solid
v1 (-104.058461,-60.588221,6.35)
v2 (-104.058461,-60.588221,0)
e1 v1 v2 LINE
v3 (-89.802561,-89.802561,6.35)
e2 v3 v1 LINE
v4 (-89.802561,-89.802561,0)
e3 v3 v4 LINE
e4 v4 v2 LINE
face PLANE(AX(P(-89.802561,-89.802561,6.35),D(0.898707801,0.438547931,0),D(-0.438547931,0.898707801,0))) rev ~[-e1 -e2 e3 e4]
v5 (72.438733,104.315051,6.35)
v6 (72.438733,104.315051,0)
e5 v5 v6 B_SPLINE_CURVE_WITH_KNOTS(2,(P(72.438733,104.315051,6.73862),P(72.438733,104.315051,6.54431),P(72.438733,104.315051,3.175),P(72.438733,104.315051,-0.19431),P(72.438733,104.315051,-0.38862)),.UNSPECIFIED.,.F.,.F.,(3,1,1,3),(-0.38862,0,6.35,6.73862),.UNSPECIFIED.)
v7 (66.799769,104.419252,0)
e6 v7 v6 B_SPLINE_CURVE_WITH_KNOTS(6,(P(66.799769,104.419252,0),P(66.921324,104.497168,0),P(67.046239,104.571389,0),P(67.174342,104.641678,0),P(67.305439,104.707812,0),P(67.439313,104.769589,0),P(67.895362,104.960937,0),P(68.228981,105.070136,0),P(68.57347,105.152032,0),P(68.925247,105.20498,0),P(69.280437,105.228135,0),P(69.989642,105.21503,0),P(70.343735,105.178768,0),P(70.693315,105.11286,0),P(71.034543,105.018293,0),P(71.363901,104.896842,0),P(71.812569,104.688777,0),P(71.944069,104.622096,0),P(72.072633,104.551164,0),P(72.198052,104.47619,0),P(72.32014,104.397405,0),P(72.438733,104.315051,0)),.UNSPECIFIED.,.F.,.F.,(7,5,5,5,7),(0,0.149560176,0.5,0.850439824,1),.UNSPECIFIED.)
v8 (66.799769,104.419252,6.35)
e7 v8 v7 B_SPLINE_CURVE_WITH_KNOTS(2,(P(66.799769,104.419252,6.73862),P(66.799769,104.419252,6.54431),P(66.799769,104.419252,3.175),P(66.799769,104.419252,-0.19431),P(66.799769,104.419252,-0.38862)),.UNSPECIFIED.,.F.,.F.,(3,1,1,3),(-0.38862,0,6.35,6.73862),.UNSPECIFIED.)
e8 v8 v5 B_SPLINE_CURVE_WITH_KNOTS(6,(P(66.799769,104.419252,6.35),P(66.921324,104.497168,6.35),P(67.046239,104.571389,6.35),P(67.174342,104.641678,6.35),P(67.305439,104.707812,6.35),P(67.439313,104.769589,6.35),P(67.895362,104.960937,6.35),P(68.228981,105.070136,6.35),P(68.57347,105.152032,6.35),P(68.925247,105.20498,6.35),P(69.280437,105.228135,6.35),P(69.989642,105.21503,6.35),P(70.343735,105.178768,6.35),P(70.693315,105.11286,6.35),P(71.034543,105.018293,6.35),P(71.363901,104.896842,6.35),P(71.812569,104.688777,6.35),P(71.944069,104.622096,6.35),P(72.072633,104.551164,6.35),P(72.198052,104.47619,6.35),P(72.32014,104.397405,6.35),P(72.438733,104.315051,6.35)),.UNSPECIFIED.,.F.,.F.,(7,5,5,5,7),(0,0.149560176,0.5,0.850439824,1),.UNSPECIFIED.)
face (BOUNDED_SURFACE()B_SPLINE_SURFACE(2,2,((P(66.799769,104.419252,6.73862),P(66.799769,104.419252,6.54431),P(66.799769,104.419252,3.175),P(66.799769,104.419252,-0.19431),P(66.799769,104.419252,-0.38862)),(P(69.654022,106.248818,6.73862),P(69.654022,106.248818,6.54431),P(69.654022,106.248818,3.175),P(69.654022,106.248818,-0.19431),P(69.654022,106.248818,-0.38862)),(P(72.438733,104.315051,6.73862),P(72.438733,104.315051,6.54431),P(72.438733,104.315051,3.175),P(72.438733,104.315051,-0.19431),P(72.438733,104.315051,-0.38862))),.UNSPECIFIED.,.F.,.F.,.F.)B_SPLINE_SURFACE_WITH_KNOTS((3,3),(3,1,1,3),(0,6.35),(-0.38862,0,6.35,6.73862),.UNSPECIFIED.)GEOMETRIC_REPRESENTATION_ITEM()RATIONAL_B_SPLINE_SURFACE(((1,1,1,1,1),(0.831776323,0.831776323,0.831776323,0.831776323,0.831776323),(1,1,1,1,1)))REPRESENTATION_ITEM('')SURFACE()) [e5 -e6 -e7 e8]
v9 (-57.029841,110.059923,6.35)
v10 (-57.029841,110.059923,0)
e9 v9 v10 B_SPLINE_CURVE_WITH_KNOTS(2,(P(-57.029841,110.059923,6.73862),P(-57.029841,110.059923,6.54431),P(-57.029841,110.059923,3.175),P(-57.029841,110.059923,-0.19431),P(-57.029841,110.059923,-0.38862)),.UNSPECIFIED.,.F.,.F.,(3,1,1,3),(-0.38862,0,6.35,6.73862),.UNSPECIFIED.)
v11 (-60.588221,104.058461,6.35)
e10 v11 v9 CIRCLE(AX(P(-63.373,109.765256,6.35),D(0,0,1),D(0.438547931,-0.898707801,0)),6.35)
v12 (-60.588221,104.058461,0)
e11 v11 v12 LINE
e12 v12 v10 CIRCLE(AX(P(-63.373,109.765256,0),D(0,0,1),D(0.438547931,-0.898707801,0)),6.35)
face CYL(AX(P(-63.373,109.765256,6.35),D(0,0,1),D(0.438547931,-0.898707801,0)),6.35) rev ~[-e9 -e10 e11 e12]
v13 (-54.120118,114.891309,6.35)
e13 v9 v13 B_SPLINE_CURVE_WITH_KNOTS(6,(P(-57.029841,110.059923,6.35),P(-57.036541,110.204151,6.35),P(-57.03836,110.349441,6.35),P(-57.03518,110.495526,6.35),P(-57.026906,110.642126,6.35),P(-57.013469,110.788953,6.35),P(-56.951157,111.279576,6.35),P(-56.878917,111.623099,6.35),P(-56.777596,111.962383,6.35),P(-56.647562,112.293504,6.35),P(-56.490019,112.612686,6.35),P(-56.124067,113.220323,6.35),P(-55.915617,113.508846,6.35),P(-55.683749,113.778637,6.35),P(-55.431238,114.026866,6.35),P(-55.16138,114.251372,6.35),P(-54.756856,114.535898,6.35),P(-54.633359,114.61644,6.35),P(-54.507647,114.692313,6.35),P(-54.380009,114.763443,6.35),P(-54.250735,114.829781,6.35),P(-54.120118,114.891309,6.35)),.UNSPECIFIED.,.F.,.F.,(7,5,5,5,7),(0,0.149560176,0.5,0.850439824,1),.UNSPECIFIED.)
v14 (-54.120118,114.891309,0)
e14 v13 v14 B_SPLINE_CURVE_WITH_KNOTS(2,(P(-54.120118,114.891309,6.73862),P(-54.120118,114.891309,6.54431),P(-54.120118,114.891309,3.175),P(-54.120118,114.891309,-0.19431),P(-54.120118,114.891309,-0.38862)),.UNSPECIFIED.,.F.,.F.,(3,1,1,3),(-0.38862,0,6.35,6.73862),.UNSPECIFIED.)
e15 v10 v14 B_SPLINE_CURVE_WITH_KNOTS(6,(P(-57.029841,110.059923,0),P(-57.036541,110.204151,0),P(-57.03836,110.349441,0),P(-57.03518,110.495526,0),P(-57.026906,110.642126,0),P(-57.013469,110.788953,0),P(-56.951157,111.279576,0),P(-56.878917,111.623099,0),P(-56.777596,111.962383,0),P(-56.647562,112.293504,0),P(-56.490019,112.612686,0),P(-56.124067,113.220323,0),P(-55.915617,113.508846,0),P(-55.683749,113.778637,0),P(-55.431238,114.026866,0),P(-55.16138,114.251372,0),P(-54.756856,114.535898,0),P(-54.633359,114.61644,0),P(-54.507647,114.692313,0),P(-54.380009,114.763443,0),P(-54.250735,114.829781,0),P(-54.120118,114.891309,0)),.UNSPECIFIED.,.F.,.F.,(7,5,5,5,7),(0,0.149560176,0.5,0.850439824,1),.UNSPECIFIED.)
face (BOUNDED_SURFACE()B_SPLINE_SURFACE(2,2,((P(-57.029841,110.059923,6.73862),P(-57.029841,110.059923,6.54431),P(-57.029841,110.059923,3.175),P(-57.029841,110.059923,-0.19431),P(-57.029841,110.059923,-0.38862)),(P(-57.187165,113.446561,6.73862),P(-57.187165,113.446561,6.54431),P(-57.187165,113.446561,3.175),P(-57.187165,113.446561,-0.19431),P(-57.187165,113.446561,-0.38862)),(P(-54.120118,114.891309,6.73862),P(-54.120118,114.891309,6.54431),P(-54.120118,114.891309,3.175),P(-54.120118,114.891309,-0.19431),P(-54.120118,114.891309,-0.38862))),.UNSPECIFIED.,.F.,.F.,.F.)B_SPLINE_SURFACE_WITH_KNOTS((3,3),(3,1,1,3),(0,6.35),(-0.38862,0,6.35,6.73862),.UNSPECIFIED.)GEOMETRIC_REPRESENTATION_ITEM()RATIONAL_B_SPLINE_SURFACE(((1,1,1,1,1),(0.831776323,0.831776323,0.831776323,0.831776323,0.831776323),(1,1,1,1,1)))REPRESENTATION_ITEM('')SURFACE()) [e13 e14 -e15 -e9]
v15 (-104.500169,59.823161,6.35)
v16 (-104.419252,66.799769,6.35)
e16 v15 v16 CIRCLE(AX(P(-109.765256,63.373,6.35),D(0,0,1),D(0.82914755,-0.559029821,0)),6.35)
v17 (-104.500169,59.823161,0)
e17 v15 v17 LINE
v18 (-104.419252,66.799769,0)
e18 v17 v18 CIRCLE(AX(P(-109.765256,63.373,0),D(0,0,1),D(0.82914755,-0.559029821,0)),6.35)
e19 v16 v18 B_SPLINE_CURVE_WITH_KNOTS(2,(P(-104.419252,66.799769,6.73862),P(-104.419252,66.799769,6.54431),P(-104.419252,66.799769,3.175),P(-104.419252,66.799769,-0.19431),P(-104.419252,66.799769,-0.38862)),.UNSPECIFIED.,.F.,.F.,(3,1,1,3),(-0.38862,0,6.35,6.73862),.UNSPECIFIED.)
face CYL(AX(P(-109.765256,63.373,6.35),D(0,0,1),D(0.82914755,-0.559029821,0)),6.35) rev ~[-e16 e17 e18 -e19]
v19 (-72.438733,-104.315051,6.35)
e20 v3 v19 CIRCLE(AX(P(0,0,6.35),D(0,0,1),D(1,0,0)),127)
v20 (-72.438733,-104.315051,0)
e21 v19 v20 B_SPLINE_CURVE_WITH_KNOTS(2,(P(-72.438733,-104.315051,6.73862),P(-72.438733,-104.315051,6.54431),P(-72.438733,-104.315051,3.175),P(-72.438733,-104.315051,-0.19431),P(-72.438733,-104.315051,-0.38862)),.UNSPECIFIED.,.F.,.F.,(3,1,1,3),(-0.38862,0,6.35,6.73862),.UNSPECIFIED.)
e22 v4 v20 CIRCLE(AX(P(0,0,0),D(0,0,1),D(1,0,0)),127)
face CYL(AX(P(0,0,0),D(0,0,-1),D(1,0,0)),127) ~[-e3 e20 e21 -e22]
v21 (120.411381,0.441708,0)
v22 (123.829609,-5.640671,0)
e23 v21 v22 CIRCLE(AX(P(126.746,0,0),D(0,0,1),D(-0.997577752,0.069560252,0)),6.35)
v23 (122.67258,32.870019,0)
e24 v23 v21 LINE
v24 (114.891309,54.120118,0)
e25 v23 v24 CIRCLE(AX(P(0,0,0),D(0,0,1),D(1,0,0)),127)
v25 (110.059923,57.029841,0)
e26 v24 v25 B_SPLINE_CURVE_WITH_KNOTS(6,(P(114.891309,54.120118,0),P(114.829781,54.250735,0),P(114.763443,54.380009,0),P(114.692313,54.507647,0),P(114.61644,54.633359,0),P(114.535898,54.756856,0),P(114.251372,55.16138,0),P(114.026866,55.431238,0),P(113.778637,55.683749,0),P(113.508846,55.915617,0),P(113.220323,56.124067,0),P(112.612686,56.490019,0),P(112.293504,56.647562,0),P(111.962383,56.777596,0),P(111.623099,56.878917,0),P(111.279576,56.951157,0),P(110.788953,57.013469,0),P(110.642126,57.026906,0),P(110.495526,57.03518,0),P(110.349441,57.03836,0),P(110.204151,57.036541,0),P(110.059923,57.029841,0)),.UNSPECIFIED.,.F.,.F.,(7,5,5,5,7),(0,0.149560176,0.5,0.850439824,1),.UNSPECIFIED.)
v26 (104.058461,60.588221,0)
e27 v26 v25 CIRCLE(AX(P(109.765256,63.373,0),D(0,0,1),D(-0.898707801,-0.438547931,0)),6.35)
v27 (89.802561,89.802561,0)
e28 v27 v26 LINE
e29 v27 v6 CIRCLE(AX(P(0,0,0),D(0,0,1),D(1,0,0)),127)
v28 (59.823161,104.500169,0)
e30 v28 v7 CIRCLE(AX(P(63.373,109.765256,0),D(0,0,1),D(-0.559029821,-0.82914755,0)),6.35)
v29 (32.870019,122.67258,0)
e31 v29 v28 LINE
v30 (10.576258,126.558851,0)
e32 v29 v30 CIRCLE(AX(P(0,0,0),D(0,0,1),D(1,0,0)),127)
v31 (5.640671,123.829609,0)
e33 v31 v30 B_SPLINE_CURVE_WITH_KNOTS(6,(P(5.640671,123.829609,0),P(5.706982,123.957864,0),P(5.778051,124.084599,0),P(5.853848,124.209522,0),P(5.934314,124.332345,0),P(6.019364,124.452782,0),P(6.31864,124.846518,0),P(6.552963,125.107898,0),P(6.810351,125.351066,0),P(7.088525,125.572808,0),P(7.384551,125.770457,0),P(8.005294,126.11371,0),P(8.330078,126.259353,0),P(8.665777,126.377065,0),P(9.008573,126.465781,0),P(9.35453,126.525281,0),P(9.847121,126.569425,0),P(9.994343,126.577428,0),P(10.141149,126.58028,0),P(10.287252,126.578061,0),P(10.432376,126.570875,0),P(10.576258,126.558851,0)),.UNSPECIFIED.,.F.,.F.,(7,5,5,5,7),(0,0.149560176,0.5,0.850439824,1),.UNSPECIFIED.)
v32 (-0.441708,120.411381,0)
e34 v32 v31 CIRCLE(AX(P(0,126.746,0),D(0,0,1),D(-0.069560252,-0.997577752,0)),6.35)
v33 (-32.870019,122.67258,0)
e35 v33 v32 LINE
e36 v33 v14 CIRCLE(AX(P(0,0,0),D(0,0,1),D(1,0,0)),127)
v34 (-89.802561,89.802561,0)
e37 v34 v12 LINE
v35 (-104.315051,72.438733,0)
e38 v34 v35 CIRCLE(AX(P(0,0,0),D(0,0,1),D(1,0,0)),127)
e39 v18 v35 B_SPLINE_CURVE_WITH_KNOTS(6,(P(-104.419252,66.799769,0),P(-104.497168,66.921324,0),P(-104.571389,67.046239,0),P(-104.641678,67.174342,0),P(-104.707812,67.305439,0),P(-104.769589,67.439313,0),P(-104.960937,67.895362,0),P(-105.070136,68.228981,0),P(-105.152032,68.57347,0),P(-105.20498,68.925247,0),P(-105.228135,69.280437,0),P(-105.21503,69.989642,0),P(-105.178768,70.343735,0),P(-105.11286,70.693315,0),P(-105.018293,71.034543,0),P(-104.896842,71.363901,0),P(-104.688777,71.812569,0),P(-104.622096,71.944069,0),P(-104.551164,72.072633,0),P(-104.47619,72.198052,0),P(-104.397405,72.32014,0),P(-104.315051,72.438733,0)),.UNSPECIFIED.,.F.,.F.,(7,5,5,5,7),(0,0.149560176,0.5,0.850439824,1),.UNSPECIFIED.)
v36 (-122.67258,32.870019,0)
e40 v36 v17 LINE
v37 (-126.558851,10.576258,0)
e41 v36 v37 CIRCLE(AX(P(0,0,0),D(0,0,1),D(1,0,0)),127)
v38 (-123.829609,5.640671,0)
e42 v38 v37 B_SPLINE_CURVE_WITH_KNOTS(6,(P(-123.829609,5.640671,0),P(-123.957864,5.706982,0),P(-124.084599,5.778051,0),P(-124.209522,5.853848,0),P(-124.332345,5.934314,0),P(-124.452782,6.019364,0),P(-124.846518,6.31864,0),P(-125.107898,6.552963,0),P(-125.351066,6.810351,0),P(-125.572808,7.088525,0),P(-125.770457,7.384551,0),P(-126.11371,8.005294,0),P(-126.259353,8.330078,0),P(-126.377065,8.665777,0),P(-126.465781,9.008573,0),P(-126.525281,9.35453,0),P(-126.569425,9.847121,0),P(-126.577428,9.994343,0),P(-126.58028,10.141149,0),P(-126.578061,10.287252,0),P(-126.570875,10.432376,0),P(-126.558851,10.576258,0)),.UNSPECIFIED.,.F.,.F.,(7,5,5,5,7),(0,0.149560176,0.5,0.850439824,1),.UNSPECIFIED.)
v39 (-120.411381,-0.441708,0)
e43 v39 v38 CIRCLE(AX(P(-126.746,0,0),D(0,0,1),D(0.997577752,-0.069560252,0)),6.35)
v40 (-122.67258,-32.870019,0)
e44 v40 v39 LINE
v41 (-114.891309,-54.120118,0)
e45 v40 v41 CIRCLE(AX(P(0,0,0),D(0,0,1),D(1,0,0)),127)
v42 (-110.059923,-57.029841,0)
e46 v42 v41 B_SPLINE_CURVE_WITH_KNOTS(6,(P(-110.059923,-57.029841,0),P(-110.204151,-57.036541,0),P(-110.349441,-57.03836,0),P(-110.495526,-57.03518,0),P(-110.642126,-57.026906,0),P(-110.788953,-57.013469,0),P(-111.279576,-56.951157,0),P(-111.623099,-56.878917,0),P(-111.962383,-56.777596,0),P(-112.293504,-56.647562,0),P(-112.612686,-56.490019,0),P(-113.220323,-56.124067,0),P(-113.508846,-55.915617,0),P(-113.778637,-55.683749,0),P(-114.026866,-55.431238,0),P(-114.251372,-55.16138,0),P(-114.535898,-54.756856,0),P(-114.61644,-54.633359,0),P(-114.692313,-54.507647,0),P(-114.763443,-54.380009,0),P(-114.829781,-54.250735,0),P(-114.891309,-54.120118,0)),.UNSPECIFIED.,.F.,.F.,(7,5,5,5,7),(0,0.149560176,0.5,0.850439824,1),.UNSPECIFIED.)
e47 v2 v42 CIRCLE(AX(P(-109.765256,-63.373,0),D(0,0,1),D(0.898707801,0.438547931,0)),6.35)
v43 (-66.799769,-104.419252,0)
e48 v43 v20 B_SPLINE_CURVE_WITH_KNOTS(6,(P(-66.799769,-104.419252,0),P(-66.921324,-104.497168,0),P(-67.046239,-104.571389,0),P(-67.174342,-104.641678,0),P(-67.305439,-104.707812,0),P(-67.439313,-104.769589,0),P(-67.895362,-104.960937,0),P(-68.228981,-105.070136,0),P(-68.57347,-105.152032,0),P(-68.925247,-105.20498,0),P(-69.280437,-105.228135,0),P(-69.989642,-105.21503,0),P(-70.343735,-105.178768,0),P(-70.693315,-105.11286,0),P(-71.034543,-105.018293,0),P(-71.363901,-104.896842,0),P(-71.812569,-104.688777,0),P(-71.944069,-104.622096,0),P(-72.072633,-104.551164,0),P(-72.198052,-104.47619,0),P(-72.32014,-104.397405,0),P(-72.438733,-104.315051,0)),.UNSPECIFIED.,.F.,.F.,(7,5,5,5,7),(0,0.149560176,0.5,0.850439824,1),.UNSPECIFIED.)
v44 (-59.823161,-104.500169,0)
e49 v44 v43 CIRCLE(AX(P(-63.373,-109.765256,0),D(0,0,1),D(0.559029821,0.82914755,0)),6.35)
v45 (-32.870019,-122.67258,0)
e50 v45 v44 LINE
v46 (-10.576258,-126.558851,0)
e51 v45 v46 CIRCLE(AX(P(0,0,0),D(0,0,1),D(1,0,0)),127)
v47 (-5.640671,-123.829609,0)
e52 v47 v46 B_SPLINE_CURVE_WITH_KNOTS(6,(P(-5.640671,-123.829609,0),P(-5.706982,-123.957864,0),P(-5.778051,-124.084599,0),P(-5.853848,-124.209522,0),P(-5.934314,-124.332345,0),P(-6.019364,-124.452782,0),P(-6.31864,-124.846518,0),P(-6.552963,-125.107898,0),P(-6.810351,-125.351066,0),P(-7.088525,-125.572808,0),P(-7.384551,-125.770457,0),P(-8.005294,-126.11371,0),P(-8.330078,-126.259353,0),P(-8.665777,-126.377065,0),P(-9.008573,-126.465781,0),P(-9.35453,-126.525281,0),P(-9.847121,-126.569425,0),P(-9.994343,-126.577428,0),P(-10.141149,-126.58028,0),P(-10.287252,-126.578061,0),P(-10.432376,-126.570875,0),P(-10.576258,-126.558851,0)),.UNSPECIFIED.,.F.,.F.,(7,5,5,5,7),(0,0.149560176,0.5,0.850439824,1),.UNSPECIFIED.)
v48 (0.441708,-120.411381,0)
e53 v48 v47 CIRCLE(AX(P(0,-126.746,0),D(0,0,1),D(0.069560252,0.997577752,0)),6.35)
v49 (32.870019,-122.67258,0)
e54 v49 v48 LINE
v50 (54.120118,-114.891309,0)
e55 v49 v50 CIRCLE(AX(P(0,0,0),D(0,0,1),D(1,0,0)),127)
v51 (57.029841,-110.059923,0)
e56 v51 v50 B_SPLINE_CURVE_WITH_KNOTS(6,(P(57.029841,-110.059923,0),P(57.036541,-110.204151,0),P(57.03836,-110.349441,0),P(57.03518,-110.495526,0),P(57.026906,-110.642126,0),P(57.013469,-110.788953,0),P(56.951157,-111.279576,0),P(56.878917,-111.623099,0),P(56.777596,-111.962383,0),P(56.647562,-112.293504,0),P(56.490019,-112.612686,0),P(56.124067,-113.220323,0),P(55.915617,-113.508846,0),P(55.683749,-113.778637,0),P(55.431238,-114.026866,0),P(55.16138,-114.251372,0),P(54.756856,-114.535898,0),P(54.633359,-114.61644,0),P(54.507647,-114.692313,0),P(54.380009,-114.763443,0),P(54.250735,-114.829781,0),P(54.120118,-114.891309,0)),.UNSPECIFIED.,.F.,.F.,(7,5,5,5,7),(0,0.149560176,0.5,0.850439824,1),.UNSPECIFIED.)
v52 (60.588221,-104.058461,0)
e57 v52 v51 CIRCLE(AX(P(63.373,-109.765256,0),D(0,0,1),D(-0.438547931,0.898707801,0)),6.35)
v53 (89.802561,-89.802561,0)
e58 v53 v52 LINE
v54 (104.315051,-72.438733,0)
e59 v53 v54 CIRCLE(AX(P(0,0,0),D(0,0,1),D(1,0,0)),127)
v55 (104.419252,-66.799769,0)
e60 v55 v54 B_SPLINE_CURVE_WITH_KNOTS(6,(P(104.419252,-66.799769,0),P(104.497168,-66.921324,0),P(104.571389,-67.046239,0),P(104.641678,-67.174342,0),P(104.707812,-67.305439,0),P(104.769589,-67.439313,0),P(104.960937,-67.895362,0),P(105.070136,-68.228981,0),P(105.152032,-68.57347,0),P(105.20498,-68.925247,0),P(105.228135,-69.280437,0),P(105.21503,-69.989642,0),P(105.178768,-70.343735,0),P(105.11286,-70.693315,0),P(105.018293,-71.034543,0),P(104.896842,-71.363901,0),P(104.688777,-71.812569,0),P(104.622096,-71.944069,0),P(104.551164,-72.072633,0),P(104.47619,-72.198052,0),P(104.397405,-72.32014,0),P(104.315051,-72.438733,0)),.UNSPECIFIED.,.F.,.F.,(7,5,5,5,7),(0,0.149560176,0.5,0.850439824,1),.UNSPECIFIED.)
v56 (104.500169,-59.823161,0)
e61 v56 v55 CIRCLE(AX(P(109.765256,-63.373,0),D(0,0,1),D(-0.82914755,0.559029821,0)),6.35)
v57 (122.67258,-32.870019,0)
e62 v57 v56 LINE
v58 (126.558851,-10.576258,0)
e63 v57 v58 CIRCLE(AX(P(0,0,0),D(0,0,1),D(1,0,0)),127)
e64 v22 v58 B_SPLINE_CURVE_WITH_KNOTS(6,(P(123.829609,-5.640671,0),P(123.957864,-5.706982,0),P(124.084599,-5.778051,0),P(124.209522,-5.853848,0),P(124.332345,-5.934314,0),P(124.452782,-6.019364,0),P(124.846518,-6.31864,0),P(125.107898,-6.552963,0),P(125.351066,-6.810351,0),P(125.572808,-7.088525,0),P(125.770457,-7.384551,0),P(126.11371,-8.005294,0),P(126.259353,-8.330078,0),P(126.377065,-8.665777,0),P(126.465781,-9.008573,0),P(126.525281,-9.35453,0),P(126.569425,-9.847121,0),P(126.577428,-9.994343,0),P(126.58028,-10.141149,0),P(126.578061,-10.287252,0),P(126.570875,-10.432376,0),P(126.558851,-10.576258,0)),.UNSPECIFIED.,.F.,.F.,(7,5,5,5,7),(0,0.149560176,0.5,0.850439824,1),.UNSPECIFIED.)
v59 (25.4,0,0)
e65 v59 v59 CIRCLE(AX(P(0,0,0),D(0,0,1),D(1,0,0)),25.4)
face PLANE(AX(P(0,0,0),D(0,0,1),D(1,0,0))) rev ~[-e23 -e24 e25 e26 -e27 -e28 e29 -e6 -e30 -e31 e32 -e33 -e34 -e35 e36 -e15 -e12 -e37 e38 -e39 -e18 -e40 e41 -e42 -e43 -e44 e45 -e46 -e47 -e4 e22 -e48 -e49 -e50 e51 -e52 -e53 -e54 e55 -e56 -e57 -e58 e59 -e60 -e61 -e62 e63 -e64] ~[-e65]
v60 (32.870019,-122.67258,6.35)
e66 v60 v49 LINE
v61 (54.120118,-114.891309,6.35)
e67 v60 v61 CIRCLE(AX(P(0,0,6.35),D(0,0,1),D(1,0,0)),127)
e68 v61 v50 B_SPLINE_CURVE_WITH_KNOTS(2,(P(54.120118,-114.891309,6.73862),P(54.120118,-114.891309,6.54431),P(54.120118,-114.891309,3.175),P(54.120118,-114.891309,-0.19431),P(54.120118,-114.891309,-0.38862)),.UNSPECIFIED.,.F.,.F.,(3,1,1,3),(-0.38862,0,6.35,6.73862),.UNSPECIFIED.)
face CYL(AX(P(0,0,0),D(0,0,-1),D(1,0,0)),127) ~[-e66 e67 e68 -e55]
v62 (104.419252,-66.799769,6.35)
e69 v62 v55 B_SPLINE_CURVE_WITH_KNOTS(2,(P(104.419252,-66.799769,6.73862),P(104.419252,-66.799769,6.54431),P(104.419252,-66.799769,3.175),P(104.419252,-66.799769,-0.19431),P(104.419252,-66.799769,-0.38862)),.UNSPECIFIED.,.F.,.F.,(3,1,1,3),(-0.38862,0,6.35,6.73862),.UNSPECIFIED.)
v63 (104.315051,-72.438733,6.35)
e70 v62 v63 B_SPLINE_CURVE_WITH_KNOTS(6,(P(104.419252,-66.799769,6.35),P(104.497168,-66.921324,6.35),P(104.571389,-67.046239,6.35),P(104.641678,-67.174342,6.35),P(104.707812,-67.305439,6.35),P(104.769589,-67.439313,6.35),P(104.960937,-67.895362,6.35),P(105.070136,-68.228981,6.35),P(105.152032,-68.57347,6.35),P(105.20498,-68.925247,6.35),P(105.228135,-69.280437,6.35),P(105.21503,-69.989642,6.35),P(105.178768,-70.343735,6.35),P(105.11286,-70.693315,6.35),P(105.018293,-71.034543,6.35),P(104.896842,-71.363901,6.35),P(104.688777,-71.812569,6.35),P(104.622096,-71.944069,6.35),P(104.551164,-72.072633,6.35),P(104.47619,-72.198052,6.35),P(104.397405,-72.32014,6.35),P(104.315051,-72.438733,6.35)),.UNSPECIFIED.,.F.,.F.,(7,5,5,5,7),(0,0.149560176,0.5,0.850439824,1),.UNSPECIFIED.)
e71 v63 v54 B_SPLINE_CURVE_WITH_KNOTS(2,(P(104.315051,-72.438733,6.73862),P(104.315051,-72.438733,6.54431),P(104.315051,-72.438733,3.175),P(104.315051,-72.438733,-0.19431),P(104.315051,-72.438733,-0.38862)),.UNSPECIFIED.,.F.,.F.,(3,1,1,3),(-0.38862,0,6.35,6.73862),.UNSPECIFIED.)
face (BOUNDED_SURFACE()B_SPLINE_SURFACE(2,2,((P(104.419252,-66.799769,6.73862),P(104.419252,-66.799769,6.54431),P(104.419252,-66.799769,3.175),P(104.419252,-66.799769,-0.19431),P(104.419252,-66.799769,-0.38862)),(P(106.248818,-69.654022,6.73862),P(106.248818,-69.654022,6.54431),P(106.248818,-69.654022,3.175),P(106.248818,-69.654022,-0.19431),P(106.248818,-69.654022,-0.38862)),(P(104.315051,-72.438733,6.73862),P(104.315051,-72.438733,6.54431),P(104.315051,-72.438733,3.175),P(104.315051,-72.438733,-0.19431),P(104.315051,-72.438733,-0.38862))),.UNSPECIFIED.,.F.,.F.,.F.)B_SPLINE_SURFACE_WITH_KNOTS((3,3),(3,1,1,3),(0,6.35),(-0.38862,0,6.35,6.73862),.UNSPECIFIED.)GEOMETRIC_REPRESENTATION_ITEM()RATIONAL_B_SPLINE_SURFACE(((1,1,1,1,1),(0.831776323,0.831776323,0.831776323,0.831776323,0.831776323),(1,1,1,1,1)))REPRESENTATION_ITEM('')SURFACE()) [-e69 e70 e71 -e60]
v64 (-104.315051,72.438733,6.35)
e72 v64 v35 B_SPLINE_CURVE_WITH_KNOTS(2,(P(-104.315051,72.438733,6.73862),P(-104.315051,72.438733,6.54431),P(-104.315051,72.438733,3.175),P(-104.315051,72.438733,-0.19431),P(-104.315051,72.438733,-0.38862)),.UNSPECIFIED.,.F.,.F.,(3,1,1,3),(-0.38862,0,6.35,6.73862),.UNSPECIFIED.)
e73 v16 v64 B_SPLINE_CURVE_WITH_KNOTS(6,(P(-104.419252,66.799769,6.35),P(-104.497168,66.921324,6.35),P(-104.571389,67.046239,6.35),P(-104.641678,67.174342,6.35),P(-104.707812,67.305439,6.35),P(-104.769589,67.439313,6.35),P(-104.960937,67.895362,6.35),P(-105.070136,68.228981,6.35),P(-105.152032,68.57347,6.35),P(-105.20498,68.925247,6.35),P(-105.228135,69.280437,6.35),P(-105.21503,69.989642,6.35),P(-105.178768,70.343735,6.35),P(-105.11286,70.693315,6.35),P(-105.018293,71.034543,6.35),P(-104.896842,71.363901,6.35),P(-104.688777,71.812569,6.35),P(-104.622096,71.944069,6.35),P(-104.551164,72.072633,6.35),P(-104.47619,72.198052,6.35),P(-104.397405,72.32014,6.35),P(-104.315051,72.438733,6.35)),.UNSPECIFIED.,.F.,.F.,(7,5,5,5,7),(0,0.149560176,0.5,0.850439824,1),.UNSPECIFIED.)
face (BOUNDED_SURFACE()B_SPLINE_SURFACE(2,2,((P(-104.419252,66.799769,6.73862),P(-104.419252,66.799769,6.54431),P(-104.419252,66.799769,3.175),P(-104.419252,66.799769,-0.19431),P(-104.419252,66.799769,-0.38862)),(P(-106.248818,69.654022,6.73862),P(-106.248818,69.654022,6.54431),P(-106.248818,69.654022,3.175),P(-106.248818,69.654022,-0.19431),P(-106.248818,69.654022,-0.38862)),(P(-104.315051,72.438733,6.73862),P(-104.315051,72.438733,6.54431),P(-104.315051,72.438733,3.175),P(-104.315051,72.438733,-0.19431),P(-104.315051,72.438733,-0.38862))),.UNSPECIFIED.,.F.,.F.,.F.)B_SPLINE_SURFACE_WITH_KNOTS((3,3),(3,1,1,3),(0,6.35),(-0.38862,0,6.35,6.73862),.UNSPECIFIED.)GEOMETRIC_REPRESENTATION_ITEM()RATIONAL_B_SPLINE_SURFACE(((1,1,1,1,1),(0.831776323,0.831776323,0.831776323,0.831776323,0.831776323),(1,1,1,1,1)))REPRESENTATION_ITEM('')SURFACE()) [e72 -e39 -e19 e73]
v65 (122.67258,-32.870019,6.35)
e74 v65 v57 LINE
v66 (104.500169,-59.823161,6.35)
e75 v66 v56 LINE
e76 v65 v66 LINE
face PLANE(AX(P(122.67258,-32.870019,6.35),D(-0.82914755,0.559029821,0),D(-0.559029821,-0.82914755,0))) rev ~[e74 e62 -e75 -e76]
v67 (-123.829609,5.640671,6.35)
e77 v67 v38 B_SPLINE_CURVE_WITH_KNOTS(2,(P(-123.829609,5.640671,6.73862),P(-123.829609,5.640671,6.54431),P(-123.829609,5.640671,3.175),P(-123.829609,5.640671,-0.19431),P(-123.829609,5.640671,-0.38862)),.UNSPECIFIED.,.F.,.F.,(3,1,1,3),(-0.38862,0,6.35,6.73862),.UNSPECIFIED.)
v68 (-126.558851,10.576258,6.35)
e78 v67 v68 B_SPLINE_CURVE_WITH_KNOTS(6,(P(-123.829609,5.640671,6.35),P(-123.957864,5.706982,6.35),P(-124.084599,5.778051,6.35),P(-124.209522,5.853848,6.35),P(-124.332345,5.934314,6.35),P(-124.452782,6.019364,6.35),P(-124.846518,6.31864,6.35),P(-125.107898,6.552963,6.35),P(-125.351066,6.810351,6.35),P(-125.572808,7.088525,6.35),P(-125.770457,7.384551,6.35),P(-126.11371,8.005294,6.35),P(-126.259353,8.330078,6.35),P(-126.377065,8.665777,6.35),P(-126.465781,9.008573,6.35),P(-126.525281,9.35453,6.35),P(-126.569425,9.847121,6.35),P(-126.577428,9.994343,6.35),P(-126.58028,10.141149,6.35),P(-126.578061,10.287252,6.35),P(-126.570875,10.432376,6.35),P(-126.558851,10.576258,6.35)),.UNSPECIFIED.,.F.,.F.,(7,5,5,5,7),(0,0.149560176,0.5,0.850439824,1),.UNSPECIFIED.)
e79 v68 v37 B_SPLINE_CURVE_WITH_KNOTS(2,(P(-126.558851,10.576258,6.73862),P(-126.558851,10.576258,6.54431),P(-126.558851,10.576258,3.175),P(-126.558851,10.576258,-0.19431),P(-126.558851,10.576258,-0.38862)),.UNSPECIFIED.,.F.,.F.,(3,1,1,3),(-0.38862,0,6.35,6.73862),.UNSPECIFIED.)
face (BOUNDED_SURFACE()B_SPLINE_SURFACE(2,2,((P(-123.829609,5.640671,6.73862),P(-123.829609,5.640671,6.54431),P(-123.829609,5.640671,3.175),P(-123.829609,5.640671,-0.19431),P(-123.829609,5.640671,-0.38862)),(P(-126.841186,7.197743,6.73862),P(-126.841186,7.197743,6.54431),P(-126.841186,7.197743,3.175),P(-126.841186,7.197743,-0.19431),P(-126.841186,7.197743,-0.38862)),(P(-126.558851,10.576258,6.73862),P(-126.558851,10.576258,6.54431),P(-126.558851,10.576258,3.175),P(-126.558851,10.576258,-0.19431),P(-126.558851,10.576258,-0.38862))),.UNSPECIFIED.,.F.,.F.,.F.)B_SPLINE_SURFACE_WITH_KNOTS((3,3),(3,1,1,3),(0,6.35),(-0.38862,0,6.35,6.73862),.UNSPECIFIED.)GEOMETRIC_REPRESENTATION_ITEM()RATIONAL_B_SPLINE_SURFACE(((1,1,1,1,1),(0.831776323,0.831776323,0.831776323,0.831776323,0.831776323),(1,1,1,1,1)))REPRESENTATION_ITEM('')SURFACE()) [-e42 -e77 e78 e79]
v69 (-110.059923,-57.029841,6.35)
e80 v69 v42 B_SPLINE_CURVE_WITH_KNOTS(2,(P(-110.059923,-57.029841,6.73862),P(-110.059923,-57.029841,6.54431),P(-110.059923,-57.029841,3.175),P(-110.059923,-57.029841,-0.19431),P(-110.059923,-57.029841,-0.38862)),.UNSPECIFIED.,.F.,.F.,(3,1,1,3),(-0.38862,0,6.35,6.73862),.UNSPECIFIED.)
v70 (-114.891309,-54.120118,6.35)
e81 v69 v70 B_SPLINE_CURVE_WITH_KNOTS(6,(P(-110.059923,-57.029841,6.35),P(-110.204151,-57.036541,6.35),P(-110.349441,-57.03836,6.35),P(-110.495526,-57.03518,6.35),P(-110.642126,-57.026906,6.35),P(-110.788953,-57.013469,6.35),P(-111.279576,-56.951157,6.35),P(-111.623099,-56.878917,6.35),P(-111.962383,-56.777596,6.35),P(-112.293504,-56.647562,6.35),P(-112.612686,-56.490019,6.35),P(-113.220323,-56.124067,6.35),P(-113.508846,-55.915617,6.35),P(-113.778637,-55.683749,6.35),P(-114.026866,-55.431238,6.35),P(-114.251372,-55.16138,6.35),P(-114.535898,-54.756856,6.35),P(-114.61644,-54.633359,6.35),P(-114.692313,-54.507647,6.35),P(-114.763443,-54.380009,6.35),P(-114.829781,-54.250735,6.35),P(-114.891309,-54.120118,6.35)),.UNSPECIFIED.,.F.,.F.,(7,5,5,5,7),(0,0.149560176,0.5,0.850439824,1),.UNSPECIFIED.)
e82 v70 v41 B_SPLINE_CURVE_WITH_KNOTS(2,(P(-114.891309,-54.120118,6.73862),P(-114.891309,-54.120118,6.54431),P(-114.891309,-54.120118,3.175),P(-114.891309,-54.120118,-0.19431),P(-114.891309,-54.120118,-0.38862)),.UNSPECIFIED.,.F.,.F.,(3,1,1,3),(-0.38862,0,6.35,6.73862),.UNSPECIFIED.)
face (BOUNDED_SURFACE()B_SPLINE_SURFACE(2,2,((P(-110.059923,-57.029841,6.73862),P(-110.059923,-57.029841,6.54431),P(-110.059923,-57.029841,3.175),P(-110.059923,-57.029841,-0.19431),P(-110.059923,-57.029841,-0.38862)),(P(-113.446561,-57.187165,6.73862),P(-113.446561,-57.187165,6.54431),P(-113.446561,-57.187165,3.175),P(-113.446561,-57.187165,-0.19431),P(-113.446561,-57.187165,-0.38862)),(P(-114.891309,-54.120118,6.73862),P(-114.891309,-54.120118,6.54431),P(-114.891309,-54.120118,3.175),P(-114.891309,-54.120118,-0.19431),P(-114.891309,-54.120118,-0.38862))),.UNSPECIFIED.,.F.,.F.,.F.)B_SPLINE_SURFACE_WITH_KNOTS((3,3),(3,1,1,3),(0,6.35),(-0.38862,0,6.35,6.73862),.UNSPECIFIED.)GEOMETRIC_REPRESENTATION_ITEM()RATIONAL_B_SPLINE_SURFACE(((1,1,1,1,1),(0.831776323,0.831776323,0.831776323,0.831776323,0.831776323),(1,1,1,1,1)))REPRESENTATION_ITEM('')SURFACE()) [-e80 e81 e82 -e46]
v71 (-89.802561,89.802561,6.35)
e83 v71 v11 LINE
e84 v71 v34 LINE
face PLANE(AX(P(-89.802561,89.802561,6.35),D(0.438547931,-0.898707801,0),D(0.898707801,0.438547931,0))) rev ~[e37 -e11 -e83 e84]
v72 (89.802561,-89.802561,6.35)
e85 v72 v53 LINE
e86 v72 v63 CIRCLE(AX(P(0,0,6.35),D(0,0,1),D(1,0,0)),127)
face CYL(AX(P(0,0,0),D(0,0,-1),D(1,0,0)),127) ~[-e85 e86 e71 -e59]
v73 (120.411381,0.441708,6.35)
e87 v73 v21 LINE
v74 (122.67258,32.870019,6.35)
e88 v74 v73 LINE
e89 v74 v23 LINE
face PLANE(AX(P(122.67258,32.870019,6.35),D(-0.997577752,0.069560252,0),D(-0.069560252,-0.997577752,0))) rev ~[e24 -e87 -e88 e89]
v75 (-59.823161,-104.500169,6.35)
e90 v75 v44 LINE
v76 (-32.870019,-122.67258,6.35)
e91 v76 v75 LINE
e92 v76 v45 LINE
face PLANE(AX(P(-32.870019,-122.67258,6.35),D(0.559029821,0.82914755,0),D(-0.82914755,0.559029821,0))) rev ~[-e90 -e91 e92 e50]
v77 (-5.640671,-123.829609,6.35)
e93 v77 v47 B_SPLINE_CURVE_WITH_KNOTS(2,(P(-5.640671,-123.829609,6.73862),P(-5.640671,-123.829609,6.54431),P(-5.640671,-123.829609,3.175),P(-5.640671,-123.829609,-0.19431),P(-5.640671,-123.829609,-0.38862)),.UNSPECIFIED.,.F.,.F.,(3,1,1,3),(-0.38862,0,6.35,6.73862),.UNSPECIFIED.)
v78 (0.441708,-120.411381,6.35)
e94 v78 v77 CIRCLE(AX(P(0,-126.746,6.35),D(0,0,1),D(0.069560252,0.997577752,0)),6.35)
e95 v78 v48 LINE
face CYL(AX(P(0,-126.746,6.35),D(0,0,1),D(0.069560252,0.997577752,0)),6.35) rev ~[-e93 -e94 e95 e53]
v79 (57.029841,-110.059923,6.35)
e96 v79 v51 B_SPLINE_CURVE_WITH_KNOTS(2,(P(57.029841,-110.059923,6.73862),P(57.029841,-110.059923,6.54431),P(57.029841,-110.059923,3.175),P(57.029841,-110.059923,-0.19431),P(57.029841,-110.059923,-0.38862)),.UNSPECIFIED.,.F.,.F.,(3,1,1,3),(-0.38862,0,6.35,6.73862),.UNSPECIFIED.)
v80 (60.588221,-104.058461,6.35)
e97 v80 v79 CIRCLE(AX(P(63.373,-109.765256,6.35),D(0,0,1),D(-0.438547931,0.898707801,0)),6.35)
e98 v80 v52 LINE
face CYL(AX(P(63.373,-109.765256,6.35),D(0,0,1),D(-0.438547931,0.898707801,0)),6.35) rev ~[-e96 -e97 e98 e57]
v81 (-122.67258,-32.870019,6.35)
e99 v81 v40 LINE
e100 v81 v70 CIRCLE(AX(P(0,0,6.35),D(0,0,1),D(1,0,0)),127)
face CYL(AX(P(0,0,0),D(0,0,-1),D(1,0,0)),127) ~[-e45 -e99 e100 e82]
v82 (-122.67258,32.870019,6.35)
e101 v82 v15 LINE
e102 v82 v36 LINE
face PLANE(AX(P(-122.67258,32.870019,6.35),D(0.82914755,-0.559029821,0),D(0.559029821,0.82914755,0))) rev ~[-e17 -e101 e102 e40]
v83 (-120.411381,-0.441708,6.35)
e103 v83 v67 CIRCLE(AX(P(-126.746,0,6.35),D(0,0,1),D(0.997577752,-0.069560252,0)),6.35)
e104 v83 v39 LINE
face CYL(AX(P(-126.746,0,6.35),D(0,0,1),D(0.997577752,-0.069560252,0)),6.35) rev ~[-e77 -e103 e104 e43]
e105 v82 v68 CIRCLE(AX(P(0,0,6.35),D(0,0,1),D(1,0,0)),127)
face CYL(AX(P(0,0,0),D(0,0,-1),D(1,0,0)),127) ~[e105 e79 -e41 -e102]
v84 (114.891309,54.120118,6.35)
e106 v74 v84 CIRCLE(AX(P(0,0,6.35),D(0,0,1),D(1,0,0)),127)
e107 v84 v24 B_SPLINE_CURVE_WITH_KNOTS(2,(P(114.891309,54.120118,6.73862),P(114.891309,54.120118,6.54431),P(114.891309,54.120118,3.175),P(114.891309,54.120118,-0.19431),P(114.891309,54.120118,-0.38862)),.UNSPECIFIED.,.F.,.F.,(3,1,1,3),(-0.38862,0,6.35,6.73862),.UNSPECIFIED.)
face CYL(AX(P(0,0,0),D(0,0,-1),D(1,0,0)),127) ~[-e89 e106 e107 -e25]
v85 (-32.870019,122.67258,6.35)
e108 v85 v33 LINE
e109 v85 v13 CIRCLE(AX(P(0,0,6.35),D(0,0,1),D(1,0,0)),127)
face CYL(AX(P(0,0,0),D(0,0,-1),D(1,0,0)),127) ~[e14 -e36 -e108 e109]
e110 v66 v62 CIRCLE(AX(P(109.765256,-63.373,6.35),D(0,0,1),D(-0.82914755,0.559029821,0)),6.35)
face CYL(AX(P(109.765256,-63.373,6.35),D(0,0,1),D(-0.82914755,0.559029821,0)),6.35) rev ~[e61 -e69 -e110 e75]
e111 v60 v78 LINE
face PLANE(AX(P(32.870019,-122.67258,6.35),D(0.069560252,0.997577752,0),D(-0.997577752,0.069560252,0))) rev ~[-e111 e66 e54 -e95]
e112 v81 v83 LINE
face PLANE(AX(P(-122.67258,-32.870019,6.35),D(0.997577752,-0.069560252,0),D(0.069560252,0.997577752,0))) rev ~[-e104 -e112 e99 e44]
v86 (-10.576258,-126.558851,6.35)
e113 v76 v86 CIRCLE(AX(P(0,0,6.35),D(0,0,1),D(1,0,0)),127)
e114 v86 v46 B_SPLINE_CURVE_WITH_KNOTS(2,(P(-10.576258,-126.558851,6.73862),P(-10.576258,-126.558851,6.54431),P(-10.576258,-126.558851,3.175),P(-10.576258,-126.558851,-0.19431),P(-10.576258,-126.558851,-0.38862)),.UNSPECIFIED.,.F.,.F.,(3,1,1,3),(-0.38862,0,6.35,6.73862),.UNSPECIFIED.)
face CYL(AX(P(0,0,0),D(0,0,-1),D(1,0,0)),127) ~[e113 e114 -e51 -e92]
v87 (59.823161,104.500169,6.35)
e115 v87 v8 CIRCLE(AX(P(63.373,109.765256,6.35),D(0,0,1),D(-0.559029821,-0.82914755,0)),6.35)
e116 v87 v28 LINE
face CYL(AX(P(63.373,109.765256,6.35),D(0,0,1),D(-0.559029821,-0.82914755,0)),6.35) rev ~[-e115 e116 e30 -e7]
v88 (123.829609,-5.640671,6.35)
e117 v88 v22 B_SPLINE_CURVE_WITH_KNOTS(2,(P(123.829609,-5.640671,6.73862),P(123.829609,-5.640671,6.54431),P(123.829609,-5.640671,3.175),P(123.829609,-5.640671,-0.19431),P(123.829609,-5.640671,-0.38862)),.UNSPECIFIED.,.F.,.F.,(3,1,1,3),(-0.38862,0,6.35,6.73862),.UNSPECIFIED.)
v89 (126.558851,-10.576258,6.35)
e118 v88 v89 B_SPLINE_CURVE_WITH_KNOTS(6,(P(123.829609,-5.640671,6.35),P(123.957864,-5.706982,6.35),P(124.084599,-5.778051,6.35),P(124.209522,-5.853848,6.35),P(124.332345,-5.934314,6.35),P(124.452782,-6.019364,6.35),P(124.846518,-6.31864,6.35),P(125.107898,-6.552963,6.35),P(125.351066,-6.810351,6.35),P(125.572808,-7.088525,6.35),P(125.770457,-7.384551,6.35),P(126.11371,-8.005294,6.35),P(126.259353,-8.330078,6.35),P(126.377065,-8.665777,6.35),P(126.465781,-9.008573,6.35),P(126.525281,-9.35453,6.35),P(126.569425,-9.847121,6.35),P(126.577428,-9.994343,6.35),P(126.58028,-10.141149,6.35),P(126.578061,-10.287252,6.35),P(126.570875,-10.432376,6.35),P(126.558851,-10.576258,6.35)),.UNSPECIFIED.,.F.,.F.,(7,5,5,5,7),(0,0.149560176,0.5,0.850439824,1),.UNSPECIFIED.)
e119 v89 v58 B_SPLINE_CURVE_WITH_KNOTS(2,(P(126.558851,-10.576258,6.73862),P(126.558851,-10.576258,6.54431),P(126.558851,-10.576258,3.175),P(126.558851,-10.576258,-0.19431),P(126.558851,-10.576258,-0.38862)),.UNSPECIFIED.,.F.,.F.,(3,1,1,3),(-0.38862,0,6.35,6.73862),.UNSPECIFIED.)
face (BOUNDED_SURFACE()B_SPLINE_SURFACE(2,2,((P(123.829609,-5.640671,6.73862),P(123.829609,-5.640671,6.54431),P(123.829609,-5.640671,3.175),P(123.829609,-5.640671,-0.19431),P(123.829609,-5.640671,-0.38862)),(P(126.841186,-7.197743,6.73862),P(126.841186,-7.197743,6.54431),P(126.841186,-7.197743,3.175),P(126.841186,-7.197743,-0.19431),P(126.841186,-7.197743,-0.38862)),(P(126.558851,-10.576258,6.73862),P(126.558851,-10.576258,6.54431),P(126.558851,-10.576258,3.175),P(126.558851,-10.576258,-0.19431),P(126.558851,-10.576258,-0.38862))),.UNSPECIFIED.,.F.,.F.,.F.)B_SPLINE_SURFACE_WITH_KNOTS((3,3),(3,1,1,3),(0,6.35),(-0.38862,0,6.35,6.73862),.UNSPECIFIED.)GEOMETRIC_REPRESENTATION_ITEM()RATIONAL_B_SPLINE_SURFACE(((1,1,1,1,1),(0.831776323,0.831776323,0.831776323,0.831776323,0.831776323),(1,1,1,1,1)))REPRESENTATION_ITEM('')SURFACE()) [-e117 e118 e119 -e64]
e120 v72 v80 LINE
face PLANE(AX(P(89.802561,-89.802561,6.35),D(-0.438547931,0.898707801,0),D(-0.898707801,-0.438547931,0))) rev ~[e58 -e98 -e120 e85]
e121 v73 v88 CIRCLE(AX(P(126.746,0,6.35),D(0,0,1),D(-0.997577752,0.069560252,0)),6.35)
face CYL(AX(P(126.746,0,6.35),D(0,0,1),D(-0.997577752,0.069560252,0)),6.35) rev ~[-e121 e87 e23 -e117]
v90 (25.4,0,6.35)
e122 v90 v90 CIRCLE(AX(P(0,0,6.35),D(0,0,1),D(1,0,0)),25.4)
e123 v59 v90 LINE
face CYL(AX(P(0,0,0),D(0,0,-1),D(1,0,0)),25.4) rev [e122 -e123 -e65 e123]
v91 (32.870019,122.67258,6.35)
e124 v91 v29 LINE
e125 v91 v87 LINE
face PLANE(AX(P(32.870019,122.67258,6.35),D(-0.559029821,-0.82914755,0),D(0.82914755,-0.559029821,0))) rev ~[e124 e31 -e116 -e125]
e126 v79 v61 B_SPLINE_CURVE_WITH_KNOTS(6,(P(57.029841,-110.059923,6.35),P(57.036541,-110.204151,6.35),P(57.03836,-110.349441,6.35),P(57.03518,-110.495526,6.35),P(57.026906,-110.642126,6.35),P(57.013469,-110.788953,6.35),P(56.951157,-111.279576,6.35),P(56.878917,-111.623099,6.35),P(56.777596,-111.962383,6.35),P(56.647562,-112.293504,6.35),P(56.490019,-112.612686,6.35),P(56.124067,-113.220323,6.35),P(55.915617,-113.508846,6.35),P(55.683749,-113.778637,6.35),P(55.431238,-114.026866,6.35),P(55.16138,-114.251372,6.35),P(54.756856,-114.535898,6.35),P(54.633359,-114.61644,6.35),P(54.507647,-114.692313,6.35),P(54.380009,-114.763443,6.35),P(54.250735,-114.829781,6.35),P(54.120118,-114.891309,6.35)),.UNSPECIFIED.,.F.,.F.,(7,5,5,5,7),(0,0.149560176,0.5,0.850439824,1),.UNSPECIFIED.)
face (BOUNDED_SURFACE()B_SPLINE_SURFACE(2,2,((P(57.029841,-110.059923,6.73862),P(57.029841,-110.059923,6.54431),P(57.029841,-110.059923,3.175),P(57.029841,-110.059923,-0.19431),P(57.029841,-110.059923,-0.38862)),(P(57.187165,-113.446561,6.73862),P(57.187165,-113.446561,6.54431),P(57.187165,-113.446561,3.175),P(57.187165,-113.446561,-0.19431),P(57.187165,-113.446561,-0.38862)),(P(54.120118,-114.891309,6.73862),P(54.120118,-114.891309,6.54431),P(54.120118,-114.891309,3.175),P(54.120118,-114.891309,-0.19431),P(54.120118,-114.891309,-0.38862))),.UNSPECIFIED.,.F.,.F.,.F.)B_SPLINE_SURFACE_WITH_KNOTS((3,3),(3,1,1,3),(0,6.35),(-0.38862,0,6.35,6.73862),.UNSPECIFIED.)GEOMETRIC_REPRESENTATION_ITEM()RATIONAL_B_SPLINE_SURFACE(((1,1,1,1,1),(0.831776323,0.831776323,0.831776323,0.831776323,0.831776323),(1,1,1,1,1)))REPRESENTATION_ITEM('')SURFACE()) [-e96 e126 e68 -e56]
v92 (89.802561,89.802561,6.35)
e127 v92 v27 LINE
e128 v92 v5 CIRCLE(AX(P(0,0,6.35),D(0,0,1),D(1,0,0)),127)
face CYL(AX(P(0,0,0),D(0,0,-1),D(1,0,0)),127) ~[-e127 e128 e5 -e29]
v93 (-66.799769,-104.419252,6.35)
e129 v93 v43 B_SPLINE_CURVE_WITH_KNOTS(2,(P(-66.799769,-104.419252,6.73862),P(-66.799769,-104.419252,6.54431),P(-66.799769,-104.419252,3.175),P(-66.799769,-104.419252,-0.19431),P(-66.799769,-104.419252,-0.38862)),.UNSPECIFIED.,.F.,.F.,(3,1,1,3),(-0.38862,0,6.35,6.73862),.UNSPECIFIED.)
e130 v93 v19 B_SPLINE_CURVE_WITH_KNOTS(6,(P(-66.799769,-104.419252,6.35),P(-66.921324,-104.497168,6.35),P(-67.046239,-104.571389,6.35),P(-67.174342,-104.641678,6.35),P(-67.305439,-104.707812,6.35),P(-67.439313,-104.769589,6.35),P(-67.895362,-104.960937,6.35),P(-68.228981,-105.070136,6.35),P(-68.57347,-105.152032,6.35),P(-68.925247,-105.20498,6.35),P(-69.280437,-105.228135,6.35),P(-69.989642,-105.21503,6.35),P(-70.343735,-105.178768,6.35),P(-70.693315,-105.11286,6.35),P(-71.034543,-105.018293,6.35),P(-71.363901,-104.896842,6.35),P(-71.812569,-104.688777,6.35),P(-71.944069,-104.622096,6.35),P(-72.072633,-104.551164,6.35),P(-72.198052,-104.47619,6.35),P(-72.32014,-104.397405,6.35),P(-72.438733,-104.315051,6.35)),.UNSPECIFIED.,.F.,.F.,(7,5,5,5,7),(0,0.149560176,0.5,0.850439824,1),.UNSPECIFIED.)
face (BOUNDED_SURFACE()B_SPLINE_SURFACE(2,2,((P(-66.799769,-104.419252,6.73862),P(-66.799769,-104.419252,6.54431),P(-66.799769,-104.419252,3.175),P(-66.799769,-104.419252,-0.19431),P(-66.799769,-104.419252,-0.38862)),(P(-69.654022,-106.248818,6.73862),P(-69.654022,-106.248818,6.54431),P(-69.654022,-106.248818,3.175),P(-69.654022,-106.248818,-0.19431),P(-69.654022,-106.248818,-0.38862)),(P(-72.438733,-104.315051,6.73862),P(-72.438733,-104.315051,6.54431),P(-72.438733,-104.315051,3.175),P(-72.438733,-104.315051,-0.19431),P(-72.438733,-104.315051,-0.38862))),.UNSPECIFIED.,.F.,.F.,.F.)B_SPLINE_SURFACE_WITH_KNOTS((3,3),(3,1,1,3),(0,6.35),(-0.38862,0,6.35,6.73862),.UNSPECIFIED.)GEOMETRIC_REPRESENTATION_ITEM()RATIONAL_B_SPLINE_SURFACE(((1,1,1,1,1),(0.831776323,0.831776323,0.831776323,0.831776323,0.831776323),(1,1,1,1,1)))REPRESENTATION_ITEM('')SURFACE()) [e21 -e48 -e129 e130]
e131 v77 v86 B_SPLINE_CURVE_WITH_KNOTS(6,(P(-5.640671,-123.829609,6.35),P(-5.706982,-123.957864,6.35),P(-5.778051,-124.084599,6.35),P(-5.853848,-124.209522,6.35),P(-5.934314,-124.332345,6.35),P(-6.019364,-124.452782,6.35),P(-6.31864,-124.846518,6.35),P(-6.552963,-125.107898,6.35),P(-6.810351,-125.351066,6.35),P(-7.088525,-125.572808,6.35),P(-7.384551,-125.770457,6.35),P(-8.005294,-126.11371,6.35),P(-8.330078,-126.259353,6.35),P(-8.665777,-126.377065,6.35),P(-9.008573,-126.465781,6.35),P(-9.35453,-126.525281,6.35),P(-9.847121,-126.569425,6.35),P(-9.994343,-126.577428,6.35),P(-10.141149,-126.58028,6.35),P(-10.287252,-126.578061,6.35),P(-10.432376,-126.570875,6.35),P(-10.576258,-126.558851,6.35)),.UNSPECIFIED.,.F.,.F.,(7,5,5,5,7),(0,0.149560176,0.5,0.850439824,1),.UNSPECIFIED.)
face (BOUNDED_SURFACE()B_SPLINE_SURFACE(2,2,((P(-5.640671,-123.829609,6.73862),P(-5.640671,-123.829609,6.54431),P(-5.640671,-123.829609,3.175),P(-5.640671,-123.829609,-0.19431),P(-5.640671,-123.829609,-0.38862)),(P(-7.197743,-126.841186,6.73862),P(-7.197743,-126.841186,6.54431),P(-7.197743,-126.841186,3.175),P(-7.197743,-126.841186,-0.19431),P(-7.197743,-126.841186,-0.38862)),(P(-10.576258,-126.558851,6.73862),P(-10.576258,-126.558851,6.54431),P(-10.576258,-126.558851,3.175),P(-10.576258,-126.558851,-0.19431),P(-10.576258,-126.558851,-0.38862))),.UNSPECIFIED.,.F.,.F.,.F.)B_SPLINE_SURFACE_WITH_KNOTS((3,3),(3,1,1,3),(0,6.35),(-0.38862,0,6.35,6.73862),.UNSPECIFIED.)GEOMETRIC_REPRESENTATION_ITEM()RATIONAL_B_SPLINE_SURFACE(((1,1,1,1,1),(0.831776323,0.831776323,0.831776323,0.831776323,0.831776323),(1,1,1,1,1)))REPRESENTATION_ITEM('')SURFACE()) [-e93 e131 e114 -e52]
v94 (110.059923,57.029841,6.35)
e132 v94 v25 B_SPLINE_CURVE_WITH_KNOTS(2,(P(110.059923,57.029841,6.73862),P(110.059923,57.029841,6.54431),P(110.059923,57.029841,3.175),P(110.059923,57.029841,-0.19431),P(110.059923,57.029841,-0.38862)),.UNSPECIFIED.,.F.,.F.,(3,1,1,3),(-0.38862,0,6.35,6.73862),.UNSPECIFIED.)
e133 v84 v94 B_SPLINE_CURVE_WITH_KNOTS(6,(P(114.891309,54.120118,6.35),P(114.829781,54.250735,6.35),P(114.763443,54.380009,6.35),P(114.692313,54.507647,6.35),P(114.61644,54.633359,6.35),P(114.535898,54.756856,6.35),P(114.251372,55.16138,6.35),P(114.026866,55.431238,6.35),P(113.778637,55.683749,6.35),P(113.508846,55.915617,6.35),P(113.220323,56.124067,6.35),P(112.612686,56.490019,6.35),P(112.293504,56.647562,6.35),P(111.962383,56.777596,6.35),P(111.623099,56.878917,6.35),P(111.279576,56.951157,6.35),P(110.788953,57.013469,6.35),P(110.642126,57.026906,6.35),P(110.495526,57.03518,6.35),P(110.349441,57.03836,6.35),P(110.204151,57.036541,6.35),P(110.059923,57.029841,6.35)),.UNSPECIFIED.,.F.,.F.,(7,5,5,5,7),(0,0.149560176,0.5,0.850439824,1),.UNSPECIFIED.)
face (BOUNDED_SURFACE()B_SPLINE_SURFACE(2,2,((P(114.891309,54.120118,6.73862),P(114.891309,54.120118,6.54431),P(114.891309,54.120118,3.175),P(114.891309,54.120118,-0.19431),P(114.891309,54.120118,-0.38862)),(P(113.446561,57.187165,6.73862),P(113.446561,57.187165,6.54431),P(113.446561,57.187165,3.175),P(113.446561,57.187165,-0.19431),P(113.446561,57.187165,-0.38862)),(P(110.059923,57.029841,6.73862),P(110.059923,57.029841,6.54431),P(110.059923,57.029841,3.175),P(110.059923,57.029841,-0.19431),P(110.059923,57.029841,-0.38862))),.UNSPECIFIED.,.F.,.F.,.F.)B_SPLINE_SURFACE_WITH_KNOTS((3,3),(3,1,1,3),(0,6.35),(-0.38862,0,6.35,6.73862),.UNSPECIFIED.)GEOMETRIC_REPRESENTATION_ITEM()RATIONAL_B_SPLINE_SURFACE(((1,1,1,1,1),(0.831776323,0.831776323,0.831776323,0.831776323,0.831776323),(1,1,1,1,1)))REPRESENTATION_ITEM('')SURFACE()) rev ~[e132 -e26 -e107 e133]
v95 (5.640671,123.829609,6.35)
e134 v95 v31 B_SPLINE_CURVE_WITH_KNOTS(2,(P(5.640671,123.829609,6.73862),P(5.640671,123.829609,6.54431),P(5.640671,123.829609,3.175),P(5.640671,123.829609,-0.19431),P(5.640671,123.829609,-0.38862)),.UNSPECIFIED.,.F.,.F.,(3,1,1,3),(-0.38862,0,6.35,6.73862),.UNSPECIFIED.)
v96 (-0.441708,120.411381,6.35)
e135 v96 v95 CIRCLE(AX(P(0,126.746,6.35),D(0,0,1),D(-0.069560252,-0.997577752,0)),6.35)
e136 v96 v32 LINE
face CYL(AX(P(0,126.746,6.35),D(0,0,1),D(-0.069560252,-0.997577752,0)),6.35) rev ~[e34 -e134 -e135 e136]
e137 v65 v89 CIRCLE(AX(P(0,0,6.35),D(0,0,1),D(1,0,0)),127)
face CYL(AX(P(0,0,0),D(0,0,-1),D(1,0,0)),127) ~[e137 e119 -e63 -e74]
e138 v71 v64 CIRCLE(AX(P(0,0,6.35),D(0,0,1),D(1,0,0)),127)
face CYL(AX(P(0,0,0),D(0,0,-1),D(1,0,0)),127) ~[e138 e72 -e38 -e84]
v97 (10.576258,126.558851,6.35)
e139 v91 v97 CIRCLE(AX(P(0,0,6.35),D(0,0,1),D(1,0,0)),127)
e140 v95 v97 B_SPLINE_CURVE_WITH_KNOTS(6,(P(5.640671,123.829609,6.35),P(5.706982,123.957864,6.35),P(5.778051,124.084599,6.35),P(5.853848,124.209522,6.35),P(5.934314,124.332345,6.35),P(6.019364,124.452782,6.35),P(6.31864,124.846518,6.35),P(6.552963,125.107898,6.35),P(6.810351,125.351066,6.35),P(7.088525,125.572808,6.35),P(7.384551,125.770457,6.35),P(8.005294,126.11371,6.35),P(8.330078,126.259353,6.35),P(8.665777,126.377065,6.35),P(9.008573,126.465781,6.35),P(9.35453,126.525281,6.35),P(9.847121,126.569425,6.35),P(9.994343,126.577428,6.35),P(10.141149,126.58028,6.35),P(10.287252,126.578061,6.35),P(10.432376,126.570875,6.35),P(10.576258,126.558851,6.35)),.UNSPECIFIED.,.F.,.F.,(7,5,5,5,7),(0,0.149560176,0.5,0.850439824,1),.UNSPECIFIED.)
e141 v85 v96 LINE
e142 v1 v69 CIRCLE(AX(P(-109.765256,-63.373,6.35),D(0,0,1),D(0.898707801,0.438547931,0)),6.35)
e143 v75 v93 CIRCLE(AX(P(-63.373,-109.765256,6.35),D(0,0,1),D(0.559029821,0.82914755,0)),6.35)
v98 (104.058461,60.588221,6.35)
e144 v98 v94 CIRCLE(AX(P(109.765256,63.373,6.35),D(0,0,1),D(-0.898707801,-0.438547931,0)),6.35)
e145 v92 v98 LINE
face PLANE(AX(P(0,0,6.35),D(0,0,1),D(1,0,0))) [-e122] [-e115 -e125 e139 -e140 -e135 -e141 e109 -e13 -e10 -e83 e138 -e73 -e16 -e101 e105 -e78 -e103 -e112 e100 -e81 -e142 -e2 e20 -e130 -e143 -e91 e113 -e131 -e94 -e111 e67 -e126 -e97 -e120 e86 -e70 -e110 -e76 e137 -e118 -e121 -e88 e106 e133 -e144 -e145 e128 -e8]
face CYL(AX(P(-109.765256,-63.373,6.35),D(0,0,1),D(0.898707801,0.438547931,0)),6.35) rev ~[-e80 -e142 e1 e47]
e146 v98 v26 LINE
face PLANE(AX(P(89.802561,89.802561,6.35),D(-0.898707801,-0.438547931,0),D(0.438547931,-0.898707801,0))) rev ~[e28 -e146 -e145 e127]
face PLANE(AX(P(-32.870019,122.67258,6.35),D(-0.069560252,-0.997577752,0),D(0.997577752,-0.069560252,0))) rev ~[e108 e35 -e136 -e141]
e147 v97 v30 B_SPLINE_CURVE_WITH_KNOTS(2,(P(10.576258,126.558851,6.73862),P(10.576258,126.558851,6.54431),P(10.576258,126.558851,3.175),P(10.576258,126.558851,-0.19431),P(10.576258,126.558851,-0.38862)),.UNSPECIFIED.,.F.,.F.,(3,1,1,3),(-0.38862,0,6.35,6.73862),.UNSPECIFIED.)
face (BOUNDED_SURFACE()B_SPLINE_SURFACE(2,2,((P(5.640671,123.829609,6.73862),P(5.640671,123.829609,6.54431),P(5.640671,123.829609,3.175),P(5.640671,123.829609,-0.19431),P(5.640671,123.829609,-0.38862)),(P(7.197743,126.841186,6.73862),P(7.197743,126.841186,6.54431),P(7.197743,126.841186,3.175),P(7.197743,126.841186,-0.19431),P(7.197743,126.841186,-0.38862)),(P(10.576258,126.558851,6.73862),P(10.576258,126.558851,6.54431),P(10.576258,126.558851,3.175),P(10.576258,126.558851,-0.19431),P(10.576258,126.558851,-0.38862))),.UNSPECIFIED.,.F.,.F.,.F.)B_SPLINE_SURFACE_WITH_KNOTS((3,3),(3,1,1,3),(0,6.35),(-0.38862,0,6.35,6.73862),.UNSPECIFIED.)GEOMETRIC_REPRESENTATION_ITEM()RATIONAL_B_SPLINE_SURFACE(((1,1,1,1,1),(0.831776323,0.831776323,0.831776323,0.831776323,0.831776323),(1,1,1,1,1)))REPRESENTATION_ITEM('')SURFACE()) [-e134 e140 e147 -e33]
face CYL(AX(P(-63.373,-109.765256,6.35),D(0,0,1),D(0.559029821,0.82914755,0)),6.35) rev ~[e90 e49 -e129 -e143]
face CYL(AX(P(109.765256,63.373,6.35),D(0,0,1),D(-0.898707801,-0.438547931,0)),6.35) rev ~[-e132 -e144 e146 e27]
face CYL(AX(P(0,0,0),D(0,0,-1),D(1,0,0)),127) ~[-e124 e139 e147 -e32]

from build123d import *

# Parameters (mm, degrees)
F0_R     = 127
F0_R_2   = 25.4
F1_DEPTH = 6.35
F3_DEPTH = 6.351
F4_R     = 5.08


with BuildPart() as f1:
    # F0 (on Top) → F1 (new body)
    with BuildSketch(Plane.XY):
        Circle(F0_R)
        Circle(F0_R_2, mode=Mode.SUBTRACT)
    extrude(amount=F1_DEPTH)

    # F2 (on face) → F3 (cut, through all)
    with BuildSketch(Plane.XY.offset(6.35)):
        with BuildLine():
            ThreePointArc((-0.4417075975, 120.4113812744), (4.3658298911, 122.1349231885), (6.349286539, 126.8411863727))
            ThreePointArc((6.349286539, 126.8411863727), (-13.4231750663, 126.288631203), (-32.870018728, 122.6725799387))
            Line((-32.870018728, 122.6725799387), (-0.4417075975, 120.4113812744))
        make_face()
        with BuildLine():
            ThreePointArc((-60.5882206377, 104.0584612897), (-57.286542, 107.954861116), (-57.9219497477, 113.0223329145))
            ThreePointArc((-57.9219497477, 113.0223329145), (-74.7691262084, 102.6575752978), (-89.8025612107, 89.8025612107))
            Line((-89.8025612107, 89.8025612107), (-60.5882206377, 104.0584612897))
        make_face()
        with BuildLine():
            ThreePointArc((-104.5001688872, 59.8231606367), (-103.5890312249, 64.8483811885), (-106.6730463754, 68.9192366251))
            ThreePointArc((-106.6730463754, 68.9192366251), (-116.0807503642, 51.5195049947), (-122.6725799387, 32.870018728))
            Line((-122.6725799387, 32.870018728), (-104.5001688872, 59.8231606367))
        make_face()
        with BuildLine():
            ThreePointArc((-120.4113812744, -0.4417075975), (-122.1349231885, 4.3658298911), (-126.8411863727, 6.349286539))
            ThreePointArc((-126.8411863727, 6.349286539), (-126.288631203, -13.4231750663), (-122.6725799387, -32.870018728))
            Line((-122.6725799387, -32.870018728), (-120.4113812744, -0.4417075975))
        make_face()
        with BuildLine():
            ThreePointArc((-104.0584612897, -60.5882206377), (-107.954861116, -57.286542), (-113.0223329145, -57.9219497477))
            ThreePointArc((-113.0223329145, -57.9219497477), (-102.6575752978, -74.7691262084), (-89.8025612107, -89.8025612107))
            Line((-89.8025612107, -89.8025612107), (-104.0584612897, -60.5882206377))
        make_face()
        with BuildLine():
            ThreePointArc((-59.8231606367, -104.5001688872), (-64.8483811885, -103.5890312249), (-68.9192366251, -106.6730463754))
            ThreePointArc((-68.9192366251, -106.6730463754), (-51.5195049947, -116.0807503642), (-32.870018728, -122.6725799387))
            Line((-32.870018728, -122.6725799387), (-59.8231606367, -104.5001688872))
        make_face()
        with BuildLine():
            ThreePointArc((0.4417075975, -120.4113812744), (-4.3658298911, -122.1349231885), (-6.349286539, -126.8411863727))
            ThreePointArc((-6.349286539, -126.8411863727), (13.4231750663, -126.288631203), (32.870018728, -122.6725799387))
            Line((32.870018728, -122.6725799387), (0.4417075975, -120.4113812744))
        make_face()
        with BuildLine():
            ThreePointArc((60.5882206377, -104.0584612897), (57.286542, -107.954861116), (57.9219497477, -113.0223329145))
            ThreePointArc((57.9219497477, -113.0223329145), (74.7691262084, -102.6575752978), (89.8025612107, -89.8025612107))
            Line((89.8025612107, -89.8025612107), (60.5882206377, -104.0584612897))
        make_face()
        with BuildLine():
            ThreePointArc((104.5001688872, -59.8231606367), (103.5890312249, -64.8483811885), (106.6730463754, -68.9192366251))
            ThreePointArc((106.6730463754, -68.9192366251), (116.0807503642, -51.5195049947), (122.6725799387, -32.870018728))
            Line((122.6725799387, -32.870018728), (104.5001688872, -59.8231606367))
        make_face()
        with BuildLine():
            ThreePointArc((120.4113812744, 0.4417075975), (122.1349231885, -4.3658298911), (126.8411863727, -6.349286539))
            ThreePointArc((126.8411863727, -6.349286539), (126.288631203, 13.4231750663), (122.6725799387, 32.870018728))
            Line((122.6725799387, 32.870018728), (120.4113812744, 0.4417075975))
        make_face()
        with BuildLine():
            ThreePointArc((104.0584612897, 60.5882206377), (107.954861116, 57.286542), (113.0223329145, 57.9219497477))
            ThreePointArc((113.0223329145, 57.9219497477), (102.6575752978, 74.7691262084), (89.8025612107, 89.8025612107))
            Line((89.8025612107, 89.8025612107), (104.0584612897, 60.5882206377))
        make_face()
        with BuildLine():
            ThreePointArc((59.8231606367, 104.5001688872), (64.8483811885, 103.5890312249), (68.9192366251, 106.6730463754))
            ThreePointArc((68.9192366251, 106.6730463754), (51.5195049947, 116.0807503642), (32.870018728, 122.6725799387))
            Line((32.870018728, 122.6725799387), (59.8231606367, 104.5001688872))
        make_face()
    extrude(amount=-F3_DEPTH, mode=Mode.SUBTRACT)

    # F4
    f4_edges = [f1.edges().sort_by_distance(p)[0] for p in [
        (6.349287, 126.841186, 3.175),
        (68.919237, 106.673046, 3.175),
        (113.022333, 57.92195, 3.175),
        (126.841186, -6.349287, 3.175),
        (106.673046, -68.919237, 3.175),
        (-57.92195, 113.022333, 3.175),
        (-106.673046, 68.919237, 3.175),
        (-126.841186, 6.349287, 3.175),
        (-113.022333, -57.92195, 3.175),
        (-68.919237, -106.673046, 3.175),
        (-6.349287, -126.841186, 3.175),
        (57.92195, -113.022333, 3.175),
    ]]
    fillet(f4_edges, radius=F4_R)


solid = f1.part
